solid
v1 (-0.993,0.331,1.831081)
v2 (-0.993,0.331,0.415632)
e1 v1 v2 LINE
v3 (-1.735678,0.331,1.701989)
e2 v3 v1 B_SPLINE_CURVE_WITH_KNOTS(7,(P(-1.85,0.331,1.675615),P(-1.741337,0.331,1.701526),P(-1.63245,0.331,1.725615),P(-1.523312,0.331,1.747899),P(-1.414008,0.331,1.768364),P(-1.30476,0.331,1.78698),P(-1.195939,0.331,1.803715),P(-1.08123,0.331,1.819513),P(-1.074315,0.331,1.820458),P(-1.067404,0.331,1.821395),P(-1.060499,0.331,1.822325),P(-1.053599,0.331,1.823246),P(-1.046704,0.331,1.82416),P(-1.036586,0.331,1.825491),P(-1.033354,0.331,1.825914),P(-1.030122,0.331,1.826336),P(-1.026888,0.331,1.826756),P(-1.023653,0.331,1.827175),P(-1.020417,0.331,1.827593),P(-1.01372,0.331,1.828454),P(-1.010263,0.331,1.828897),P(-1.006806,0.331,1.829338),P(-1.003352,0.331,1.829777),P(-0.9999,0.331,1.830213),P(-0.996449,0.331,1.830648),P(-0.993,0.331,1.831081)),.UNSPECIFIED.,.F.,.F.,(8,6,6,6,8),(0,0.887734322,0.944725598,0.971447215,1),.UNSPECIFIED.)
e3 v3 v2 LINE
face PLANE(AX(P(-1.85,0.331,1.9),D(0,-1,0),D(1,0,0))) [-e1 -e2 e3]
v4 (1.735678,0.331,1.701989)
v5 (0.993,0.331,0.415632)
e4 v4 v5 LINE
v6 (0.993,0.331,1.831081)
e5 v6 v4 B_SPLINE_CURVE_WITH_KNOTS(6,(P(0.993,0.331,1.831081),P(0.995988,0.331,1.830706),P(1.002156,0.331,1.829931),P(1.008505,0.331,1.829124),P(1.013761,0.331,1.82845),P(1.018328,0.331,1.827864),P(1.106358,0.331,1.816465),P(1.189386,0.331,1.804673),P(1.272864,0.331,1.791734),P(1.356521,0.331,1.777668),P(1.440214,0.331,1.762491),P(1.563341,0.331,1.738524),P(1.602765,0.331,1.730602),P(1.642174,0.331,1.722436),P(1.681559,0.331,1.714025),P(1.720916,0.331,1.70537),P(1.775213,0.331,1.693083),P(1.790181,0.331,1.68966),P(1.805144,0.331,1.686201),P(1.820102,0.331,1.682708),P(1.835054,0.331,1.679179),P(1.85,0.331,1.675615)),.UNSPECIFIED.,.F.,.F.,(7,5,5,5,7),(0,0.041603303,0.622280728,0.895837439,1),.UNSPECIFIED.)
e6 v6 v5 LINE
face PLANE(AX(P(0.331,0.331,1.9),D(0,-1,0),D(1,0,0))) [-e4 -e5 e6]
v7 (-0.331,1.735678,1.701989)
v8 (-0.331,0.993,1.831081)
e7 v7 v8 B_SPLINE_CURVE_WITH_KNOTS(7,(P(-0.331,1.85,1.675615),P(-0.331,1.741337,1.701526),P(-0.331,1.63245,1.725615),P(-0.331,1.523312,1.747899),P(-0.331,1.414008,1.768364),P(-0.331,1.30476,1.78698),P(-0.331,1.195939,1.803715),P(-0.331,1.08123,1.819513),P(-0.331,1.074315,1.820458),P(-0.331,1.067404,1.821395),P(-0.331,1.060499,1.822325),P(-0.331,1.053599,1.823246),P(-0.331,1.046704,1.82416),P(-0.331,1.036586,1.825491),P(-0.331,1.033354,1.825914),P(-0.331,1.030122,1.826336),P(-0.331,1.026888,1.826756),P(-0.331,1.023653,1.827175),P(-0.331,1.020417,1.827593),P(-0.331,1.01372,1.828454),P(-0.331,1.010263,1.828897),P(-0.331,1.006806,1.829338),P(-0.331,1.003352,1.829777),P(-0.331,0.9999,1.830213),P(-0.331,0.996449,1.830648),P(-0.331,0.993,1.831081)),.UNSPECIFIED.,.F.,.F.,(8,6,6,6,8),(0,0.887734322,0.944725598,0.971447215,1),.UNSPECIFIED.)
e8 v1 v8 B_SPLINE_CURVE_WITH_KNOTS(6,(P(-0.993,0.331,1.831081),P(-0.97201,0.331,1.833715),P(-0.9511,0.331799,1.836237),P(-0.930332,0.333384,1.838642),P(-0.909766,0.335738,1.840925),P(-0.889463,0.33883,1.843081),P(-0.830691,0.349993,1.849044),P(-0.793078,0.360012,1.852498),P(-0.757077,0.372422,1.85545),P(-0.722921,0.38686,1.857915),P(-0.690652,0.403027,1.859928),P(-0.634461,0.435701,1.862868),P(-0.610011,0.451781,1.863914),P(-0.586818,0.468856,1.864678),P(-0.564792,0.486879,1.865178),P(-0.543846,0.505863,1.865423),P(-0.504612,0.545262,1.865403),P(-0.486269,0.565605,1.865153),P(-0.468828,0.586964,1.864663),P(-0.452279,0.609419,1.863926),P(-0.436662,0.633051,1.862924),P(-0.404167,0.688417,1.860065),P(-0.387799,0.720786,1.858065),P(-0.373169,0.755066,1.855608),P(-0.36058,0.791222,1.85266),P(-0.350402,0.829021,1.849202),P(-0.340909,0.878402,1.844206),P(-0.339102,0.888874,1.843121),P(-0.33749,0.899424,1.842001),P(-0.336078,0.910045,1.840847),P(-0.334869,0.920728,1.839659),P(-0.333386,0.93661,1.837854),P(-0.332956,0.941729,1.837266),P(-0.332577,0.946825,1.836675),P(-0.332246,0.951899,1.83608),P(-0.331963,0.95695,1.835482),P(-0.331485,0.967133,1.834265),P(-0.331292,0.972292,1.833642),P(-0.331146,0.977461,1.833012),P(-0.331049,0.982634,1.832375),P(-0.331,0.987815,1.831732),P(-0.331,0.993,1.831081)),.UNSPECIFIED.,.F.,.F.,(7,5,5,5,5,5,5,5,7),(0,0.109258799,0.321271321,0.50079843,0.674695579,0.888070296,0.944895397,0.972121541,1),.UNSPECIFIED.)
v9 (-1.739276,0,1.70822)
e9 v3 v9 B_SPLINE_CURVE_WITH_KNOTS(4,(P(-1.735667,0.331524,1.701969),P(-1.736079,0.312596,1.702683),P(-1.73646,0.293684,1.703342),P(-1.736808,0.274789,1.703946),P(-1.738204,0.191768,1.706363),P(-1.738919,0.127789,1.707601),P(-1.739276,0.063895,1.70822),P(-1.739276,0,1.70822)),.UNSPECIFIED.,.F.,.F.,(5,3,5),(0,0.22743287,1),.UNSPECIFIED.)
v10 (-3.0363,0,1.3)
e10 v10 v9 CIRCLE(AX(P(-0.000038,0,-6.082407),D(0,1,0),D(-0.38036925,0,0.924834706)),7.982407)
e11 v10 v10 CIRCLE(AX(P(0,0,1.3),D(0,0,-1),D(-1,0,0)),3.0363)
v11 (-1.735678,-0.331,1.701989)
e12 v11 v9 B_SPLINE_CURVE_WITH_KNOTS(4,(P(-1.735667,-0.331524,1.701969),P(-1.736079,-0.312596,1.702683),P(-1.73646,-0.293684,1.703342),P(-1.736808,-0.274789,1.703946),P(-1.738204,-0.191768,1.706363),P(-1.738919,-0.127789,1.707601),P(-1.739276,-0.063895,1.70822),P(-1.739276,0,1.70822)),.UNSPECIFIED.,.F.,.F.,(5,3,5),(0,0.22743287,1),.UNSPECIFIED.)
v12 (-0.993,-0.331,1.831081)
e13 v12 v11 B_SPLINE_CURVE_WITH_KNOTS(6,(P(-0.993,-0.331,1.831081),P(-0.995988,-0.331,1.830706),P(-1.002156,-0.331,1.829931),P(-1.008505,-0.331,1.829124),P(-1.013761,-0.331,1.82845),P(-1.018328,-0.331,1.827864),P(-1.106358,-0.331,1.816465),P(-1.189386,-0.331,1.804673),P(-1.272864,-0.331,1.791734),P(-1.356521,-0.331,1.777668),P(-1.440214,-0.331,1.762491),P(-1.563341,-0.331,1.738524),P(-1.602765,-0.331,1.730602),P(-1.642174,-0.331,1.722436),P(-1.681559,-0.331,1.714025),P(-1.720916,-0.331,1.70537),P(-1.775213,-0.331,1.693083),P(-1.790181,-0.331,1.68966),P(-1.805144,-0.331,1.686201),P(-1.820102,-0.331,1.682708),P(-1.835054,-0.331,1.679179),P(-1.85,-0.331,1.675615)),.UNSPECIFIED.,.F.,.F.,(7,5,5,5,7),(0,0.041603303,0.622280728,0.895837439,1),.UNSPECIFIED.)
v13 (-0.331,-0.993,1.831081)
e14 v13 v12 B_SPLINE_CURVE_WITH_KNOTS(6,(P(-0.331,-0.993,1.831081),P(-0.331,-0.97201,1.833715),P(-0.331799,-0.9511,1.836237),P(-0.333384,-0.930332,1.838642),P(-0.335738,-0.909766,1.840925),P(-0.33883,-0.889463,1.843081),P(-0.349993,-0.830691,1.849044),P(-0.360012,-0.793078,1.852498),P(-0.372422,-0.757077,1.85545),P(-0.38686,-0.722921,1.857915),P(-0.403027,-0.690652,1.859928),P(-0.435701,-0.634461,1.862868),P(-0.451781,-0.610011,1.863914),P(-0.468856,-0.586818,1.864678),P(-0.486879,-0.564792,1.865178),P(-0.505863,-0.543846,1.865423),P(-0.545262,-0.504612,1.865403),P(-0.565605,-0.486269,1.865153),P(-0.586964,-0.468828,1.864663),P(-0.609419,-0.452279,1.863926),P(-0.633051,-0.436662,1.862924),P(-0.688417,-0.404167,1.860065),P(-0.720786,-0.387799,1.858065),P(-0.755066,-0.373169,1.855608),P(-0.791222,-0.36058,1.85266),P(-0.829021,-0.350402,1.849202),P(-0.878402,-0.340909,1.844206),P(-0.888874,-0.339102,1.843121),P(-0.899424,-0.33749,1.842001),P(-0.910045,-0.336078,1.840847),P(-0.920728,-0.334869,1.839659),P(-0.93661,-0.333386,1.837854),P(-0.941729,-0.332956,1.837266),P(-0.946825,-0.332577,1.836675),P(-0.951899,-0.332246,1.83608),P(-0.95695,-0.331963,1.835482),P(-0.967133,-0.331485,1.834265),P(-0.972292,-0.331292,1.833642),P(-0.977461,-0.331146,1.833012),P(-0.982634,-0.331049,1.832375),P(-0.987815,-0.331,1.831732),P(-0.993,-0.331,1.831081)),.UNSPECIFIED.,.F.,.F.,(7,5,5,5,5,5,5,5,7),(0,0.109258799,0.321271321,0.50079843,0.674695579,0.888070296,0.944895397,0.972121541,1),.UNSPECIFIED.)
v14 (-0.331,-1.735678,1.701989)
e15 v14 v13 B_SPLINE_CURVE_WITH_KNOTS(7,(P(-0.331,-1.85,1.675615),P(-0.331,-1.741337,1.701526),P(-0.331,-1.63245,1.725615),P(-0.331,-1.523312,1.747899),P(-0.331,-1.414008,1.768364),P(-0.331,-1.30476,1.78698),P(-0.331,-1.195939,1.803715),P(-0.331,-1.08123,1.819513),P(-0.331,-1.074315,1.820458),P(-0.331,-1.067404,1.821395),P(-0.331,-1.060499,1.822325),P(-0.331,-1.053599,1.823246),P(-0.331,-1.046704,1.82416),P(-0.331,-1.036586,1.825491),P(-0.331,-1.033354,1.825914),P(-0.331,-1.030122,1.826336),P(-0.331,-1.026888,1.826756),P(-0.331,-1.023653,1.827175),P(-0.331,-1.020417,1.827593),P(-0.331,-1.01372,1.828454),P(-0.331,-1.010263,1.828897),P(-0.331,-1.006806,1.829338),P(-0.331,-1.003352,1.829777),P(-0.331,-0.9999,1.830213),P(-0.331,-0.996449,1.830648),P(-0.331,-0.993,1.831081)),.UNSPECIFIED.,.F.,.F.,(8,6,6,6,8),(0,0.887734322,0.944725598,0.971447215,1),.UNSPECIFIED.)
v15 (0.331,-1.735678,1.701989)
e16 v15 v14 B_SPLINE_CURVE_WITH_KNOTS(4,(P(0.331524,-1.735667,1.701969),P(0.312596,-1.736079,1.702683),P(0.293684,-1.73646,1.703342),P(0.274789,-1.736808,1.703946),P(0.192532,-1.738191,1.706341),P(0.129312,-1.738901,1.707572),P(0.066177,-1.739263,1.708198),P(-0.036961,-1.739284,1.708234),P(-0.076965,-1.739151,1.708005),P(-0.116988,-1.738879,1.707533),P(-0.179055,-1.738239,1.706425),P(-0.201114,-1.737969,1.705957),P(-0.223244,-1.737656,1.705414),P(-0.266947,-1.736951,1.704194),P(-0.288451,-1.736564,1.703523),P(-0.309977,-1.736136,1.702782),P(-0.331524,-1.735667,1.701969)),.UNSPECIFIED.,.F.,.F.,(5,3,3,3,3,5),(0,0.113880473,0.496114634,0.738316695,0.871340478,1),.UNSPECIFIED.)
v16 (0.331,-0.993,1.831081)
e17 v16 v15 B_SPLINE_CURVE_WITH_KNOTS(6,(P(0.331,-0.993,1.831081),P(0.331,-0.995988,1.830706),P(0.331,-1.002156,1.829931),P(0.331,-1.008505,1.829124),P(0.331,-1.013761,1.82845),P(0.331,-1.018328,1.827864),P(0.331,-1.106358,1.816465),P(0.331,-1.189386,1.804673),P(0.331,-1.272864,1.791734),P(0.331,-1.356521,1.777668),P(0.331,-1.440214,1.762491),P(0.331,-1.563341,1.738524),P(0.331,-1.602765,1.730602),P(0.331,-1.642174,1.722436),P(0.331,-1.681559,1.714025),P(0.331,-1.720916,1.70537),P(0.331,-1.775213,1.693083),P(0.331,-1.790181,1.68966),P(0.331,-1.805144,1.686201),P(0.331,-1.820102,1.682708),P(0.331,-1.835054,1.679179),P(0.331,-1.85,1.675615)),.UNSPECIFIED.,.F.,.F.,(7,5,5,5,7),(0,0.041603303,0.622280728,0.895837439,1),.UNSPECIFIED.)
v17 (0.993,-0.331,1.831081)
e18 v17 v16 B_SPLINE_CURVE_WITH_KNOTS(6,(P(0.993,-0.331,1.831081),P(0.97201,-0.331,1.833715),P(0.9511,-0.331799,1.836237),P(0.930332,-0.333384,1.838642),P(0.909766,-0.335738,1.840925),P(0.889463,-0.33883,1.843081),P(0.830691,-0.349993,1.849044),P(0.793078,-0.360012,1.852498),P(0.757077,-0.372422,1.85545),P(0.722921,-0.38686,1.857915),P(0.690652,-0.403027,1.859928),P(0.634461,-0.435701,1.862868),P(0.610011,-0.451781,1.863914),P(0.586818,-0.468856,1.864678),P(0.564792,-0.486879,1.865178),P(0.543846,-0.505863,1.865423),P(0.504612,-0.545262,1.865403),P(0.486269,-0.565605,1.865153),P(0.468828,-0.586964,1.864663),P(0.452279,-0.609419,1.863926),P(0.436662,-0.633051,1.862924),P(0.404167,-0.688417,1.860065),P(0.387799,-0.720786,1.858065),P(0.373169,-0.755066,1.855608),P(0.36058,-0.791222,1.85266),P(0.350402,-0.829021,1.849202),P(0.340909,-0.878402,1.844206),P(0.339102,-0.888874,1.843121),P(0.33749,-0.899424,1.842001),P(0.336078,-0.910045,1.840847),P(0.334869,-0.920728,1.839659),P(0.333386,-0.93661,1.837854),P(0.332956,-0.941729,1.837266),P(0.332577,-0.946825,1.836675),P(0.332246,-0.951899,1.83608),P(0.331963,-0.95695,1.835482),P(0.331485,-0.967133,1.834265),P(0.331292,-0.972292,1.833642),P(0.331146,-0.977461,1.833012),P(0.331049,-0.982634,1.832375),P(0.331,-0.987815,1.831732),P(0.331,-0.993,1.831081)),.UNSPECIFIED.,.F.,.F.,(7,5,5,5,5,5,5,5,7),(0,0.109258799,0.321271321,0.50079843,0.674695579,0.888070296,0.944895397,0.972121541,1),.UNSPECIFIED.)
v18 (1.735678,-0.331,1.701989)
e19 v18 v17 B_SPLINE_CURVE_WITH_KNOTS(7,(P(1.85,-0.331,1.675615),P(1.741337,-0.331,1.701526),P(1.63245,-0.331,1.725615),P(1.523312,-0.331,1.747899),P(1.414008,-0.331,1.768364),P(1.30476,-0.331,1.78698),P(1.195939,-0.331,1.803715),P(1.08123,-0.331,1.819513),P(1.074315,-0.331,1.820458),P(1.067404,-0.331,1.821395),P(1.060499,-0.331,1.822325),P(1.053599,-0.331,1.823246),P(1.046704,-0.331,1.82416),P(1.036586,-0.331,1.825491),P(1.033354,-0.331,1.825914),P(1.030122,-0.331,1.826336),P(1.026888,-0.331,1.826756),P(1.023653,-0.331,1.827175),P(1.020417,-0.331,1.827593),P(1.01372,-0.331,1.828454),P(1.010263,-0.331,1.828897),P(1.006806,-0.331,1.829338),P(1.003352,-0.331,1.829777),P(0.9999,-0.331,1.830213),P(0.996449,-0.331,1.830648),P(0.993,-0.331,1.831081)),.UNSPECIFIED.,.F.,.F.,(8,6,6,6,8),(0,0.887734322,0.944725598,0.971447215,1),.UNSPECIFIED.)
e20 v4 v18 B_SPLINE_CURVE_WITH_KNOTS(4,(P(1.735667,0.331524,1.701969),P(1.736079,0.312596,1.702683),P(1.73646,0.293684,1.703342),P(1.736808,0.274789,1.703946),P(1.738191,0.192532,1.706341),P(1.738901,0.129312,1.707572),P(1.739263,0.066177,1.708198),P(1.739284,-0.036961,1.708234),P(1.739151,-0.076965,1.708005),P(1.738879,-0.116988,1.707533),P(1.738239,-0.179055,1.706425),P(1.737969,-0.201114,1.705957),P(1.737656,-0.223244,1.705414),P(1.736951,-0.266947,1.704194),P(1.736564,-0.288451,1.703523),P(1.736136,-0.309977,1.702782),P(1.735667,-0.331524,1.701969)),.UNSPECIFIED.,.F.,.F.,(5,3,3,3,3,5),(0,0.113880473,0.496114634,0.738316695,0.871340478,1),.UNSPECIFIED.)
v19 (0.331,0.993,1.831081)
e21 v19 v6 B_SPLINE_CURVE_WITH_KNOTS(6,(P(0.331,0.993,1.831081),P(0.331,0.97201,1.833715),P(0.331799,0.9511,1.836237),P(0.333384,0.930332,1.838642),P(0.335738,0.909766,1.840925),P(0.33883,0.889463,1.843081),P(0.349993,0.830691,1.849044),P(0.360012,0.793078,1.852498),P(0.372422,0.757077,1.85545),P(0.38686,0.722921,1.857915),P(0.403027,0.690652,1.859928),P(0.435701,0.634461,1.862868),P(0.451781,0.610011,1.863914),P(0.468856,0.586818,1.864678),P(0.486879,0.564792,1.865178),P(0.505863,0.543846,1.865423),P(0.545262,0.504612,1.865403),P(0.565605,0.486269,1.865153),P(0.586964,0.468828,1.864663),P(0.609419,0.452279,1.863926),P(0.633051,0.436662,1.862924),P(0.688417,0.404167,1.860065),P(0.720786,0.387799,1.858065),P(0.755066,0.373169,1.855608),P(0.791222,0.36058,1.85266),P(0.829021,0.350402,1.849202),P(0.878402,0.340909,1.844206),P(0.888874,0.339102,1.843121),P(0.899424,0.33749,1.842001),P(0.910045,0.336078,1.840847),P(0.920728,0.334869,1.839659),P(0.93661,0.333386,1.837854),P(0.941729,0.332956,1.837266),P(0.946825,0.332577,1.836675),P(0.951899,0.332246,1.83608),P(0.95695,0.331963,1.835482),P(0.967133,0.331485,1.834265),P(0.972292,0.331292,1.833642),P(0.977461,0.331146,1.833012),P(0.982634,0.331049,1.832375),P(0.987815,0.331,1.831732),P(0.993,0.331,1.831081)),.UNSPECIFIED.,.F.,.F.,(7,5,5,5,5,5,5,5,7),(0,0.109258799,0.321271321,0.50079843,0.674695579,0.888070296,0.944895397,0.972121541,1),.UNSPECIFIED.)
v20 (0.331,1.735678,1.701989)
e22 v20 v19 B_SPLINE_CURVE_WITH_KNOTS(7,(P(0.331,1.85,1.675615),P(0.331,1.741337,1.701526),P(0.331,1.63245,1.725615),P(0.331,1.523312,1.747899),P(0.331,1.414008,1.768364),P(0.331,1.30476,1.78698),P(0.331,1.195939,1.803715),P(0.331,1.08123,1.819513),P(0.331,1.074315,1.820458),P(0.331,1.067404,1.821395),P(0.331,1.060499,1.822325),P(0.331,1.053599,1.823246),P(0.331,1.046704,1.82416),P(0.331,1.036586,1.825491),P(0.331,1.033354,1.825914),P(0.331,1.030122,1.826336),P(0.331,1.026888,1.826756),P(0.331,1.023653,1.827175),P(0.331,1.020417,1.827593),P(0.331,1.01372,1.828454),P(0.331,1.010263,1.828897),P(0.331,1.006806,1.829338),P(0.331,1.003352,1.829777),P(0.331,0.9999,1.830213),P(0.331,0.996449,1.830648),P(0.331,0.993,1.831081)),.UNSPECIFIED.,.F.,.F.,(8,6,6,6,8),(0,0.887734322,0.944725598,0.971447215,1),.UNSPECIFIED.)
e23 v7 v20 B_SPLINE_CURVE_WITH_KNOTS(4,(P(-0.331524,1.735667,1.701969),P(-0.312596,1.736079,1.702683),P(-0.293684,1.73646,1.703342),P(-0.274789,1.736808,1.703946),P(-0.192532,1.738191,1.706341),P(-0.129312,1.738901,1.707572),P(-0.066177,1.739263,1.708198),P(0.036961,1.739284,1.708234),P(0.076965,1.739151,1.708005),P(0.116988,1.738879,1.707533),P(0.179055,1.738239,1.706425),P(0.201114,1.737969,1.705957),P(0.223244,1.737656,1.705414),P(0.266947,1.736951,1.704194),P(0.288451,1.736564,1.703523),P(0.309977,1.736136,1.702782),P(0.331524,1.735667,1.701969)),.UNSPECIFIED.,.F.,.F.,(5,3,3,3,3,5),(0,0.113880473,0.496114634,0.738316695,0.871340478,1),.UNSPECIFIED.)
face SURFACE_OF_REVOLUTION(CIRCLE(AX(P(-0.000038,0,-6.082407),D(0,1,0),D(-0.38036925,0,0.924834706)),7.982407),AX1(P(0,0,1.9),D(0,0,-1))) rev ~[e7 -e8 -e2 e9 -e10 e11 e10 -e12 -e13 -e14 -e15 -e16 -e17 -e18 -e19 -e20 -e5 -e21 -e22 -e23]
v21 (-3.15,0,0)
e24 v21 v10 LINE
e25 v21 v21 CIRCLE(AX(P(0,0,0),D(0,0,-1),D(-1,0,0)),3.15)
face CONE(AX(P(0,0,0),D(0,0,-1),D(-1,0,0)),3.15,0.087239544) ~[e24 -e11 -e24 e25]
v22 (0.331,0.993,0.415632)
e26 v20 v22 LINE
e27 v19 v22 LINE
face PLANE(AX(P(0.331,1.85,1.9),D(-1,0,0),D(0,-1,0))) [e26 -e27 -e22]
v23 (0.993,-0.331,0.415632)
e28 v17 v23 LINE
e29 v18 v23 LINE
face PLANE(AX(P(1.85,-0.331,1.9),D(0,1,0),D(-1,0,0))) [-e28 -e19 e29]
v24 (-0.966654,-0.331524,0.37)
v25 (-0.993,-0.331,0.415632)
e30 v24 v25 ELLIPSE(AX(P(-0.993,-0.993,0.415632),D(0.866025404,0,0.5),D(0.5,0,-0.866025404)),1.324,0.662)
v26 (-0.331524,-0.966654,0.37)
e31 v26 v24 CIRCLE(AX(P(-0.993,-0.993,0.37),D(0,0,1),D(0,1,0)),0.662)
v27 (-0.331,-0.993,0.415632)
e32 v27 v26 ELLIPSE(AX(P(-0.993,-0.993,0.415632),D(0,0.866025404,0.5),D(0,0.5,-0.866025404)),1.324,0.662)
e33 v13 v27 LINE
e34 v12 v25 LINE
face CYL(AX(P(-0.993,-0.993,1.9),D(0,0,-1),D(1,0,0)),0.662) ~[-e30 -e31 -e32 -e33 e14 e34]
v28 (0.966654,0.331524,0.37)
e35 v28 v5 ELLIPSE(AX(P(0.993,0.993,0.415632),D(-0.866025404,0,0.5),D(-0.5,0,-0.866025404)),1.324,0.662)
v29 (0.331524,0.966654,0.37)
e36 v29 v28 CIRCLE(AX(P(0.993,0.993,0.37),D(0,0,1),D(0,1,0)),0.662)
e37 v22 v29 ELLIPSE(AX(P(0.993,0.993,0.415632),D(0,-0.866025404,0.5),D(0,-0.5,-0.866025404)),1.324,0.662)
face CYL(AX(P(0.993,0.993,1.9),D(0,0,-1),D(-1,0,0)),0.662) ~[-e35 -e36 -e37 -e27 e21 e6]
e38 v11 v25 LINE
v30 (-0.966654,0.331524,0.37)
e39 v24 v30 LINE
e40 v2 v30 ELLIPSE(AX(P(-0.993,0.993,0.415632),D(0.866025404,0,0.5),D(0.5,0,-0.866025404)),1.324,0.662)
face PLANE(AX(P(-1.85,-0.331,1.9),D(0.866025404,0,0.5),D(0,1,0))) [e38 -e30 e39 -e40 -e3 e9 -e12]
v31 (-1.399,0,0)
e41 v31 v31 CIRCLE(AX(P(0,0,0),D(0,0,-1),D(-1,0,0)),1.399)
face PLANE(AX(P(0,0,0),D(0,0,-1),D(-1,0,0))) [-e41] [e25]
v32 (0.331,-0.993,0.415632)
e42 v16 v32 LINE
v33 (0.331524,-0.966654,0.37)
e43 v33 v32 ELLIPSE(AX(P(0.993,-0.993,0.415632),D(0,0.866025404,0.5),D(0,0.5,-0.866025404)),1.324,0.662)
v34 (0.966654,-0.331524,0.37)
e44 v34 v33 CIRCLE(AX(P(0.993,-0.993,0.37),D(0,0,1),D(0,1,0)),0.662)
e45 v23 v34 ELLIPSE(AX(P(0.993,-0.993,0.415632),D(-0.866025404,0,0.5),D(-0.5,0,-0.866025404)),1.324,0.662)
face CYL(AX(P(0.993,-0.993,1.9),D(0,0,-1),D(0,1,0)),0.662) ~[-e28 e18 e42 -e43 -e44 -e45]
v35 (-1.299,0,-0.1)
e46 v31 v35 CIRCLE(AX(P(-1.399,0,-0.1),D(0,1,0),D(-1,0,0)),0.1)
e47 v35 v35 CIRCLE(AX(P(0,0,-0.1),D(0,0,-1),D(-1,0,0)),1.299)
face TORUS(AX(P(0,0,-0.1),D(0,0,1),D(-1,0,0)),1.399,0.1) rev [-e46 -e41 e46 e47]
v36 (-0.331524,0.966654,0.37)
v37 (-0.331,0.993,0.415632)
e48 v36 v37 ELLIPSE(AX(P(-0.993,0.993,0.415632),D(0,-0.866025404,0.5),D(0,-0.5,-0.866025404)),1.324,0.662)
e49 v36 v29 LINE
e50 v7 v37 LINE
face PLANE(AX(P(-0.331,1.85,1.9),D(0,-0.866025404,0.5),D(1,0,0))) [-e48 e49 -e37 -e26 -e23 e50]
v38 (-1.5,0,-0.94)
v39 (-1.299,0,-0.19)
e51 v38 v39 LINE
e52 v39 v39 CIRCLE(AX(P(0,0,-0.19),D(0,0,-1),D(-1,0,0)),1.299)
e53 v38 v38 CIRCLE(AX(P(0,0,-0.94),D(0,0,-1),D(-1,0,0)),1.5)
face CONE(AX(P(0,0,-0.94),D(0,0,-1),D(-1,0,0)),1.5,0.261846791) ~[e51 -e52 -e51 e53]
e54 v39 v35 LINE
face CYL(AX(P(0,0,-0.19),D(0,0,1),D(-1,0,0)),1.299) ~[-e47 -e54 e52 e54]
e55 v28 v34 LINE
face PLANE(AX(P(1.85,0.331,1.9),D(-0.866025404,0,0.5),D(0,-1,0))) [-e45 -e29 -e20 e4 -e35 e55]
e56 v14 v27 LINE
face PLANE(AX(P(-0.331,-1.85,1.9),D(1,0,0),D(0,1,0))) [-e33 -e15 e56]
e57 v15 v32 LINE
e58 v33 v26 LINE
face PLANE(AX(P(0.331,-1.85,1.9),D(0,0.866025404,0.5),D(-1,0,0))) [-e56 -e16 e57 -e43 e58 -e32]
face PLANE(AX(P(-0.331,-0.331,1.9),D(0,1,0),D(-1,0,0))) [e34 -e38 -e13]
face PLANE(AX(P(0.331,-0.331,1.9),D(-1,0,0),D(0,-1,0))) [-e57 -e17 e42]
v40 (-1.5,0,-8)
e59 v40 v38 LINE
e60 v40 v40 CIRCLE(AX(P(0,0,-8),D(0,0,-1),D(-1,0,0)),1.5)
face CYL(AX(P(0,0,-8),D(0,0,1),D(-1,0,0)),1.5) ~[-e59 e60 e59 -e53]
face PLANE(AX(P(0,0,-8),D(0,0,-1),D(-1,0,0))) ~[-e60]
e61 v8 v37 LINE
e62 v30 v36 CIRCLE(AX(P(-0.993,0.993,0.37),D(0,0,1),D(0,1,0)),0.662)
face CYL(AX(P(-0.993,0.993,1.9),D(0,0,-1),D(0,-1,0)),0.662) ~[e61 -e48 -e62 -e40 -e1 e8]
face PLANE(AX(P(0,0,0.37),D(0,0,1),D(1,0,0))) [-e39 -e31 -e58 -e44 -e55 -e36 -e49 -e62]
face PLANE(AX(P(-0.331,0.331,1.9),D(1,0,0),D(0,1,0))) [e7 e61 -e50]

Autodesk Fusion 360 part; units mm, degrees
sketch "Sketch1" plane through (0, 0, 0) normal (0, 1, 0) x (1, 0, 0)
  line L0 (0, -1.9) -> (0, 8)
  line L1 (-3.15, 0) -> (-3.0363, -1.3)
  line L2 (-3.15, 0) -> (-1.299, 0)
  arc A0 (-3.0363, -1.3) -> (0, -1.9) centre (0, 6.0824) ccw
  line L3 (0, 8) -> (-1.5, 8)
  line L4 (-1.5, 8) -> (-1.5, 0.94)
  line L5 (-1.5, 0.94) -> (-1.299, 0.19)
  line L6 (-1.299, 0.19) -> (-1.299, 0)
  dimension "d13" = 5
  dimension "d14" = 6.3
  dimension "d18" = 3
  dimension "d23" = 15
  dimension "d53" = 1.9
  dimension "d55" = 7.06
  dimension "d56" = 8
  dimension "d57" = 7.81
  dimension "d60" = 1.3
revolve "Revolve1" add sketch "Sketch1" angle 360 about axis through (0, 0, 1.9) along (0, 0, -1) makes body 1
fillet "Fillet2" radius 0.1 1 edges at (-1.2111, 0.4698, 0) on bodies 1
ref_plane "WorkPlane1" through (0, 0, 1.9) normal (0, 0, 1) x (1, 0, 0)
sketch "Sketch2" plane through (0, 0, 1.9) normal (0, 0, 1) x (1, 0, 0)
  line L0 (-1.85, 0) -> (1.85, 0) construction
  line L1 (0, -1.85) -> (0, 1.85) construction
  line L2 (-0.331, 1.85) -> (0.331, 1.85)
  line L3 (0.331, 1.85) -> (0.331, 0.331)
  line L4 (0.331, 0.331) -> (1.85, 0.331)
  line L5 (1.85, 0.331) -> (1.85, -0.331)
  line L6 (1.85, -0.331) -> (0.331, -0.331)
  line L7 (0.331, -0.331) -> (0.331, -1.85)
  line L8 (0.331, -1.85) -> (-0.331, -1.85)
  line L9 (-0.331, -1.85) -> (-0.331, -0.331)
  line L10 (-0.331, -0.331) -> (-1.85, -0.331)
  line L11 (-1.85, -0.331) -> (-1.85, 0.331)
  line L12 (-1.85, 0.331) -> (-0.331, 0.331)
  line L13 (-0.331, 0.331) -> (-0.331, 1.85)
  dimension "d58" = 0.662
  dimension "d59" = 0.662
  dimension "d61" = 3.7
  dimension "d62" = 3.7
extrude "Extrude1" add sketch "Sketch2" against normal blind 1.53 separate body makes body 2
draft "Draft1" angle -30 neutral plane through (0, 0, 1.9) pull (0, 0, 1) 4 faces at (0.1103, -1.85, 1.39) (-0.1103, 1.85, 1.39) (-1.85, -0.1103, 1.39) (1.85, 0.1103, 1.39) on bodies 2
fillet "Fillet1" radius 0.662 4 edges at (0.331, -0.331, 1.135) (-0.331, -0.331, 1.135) (-0.331, 0.331, 1.135) (0.331, 0.331, 1.135) on bodies 2
combine "Combine1" operation cut target body 1 tool bodies 2
thread "Thread1" thread offset 0 thread length 10
equation "adsk_nomdia = 3.00 mm"
equation "adsk_nomlen = 8.00 mm"
equation "adsk_headdia = 6.30 mm"
equation "adsk_baseh = 1.30 mm"
equation "adsk_phildia = 3.70 mm"
equation "adsk_midfillet = 0.10 mm"
equation "adsk_thrlen = 7.06 mm"
equation "adsk_phildepth = 1.53 mm"
equation "adsk_thrrun = 0.75 mm"
equation "adsk_thrang = 15.00 deg"
equation "adsk_headang = 5.00 deg"
equation "d13 = adsk_headang"
equation "d14 = adsk_headdia"
equation "adsk_ovalh = 0.60 mm"
equation "d18 = adsk_nomdia"
equation "d23 = adsk_thrang"
equation "d32 = adsk_baseh + adsk_ovalh"
equation "adsk_philwidth = 0.662 mm"
equation "d48 = adsk_philwidth"
equation "d52 = adsk_midfillet"
equation "d53 = adsk_baseh + adsk_ovalh"
equation "d55 = adsk_thrlen"
equation "d56 = adsk_nomlen"
equation "d57 = adsk_thrlen + adsk_thrrun"
equation "d58 = adsk_philwidth"
equation "d59 = adsk_philwidth"
equation "d60 = adsk_baseh"
equation "d61 = adsk_phildia"
equation "d62 = adsk_phildia"
properties part number "BHS JIS B 1111 - M3x8 Steel 4.6 Plain"
